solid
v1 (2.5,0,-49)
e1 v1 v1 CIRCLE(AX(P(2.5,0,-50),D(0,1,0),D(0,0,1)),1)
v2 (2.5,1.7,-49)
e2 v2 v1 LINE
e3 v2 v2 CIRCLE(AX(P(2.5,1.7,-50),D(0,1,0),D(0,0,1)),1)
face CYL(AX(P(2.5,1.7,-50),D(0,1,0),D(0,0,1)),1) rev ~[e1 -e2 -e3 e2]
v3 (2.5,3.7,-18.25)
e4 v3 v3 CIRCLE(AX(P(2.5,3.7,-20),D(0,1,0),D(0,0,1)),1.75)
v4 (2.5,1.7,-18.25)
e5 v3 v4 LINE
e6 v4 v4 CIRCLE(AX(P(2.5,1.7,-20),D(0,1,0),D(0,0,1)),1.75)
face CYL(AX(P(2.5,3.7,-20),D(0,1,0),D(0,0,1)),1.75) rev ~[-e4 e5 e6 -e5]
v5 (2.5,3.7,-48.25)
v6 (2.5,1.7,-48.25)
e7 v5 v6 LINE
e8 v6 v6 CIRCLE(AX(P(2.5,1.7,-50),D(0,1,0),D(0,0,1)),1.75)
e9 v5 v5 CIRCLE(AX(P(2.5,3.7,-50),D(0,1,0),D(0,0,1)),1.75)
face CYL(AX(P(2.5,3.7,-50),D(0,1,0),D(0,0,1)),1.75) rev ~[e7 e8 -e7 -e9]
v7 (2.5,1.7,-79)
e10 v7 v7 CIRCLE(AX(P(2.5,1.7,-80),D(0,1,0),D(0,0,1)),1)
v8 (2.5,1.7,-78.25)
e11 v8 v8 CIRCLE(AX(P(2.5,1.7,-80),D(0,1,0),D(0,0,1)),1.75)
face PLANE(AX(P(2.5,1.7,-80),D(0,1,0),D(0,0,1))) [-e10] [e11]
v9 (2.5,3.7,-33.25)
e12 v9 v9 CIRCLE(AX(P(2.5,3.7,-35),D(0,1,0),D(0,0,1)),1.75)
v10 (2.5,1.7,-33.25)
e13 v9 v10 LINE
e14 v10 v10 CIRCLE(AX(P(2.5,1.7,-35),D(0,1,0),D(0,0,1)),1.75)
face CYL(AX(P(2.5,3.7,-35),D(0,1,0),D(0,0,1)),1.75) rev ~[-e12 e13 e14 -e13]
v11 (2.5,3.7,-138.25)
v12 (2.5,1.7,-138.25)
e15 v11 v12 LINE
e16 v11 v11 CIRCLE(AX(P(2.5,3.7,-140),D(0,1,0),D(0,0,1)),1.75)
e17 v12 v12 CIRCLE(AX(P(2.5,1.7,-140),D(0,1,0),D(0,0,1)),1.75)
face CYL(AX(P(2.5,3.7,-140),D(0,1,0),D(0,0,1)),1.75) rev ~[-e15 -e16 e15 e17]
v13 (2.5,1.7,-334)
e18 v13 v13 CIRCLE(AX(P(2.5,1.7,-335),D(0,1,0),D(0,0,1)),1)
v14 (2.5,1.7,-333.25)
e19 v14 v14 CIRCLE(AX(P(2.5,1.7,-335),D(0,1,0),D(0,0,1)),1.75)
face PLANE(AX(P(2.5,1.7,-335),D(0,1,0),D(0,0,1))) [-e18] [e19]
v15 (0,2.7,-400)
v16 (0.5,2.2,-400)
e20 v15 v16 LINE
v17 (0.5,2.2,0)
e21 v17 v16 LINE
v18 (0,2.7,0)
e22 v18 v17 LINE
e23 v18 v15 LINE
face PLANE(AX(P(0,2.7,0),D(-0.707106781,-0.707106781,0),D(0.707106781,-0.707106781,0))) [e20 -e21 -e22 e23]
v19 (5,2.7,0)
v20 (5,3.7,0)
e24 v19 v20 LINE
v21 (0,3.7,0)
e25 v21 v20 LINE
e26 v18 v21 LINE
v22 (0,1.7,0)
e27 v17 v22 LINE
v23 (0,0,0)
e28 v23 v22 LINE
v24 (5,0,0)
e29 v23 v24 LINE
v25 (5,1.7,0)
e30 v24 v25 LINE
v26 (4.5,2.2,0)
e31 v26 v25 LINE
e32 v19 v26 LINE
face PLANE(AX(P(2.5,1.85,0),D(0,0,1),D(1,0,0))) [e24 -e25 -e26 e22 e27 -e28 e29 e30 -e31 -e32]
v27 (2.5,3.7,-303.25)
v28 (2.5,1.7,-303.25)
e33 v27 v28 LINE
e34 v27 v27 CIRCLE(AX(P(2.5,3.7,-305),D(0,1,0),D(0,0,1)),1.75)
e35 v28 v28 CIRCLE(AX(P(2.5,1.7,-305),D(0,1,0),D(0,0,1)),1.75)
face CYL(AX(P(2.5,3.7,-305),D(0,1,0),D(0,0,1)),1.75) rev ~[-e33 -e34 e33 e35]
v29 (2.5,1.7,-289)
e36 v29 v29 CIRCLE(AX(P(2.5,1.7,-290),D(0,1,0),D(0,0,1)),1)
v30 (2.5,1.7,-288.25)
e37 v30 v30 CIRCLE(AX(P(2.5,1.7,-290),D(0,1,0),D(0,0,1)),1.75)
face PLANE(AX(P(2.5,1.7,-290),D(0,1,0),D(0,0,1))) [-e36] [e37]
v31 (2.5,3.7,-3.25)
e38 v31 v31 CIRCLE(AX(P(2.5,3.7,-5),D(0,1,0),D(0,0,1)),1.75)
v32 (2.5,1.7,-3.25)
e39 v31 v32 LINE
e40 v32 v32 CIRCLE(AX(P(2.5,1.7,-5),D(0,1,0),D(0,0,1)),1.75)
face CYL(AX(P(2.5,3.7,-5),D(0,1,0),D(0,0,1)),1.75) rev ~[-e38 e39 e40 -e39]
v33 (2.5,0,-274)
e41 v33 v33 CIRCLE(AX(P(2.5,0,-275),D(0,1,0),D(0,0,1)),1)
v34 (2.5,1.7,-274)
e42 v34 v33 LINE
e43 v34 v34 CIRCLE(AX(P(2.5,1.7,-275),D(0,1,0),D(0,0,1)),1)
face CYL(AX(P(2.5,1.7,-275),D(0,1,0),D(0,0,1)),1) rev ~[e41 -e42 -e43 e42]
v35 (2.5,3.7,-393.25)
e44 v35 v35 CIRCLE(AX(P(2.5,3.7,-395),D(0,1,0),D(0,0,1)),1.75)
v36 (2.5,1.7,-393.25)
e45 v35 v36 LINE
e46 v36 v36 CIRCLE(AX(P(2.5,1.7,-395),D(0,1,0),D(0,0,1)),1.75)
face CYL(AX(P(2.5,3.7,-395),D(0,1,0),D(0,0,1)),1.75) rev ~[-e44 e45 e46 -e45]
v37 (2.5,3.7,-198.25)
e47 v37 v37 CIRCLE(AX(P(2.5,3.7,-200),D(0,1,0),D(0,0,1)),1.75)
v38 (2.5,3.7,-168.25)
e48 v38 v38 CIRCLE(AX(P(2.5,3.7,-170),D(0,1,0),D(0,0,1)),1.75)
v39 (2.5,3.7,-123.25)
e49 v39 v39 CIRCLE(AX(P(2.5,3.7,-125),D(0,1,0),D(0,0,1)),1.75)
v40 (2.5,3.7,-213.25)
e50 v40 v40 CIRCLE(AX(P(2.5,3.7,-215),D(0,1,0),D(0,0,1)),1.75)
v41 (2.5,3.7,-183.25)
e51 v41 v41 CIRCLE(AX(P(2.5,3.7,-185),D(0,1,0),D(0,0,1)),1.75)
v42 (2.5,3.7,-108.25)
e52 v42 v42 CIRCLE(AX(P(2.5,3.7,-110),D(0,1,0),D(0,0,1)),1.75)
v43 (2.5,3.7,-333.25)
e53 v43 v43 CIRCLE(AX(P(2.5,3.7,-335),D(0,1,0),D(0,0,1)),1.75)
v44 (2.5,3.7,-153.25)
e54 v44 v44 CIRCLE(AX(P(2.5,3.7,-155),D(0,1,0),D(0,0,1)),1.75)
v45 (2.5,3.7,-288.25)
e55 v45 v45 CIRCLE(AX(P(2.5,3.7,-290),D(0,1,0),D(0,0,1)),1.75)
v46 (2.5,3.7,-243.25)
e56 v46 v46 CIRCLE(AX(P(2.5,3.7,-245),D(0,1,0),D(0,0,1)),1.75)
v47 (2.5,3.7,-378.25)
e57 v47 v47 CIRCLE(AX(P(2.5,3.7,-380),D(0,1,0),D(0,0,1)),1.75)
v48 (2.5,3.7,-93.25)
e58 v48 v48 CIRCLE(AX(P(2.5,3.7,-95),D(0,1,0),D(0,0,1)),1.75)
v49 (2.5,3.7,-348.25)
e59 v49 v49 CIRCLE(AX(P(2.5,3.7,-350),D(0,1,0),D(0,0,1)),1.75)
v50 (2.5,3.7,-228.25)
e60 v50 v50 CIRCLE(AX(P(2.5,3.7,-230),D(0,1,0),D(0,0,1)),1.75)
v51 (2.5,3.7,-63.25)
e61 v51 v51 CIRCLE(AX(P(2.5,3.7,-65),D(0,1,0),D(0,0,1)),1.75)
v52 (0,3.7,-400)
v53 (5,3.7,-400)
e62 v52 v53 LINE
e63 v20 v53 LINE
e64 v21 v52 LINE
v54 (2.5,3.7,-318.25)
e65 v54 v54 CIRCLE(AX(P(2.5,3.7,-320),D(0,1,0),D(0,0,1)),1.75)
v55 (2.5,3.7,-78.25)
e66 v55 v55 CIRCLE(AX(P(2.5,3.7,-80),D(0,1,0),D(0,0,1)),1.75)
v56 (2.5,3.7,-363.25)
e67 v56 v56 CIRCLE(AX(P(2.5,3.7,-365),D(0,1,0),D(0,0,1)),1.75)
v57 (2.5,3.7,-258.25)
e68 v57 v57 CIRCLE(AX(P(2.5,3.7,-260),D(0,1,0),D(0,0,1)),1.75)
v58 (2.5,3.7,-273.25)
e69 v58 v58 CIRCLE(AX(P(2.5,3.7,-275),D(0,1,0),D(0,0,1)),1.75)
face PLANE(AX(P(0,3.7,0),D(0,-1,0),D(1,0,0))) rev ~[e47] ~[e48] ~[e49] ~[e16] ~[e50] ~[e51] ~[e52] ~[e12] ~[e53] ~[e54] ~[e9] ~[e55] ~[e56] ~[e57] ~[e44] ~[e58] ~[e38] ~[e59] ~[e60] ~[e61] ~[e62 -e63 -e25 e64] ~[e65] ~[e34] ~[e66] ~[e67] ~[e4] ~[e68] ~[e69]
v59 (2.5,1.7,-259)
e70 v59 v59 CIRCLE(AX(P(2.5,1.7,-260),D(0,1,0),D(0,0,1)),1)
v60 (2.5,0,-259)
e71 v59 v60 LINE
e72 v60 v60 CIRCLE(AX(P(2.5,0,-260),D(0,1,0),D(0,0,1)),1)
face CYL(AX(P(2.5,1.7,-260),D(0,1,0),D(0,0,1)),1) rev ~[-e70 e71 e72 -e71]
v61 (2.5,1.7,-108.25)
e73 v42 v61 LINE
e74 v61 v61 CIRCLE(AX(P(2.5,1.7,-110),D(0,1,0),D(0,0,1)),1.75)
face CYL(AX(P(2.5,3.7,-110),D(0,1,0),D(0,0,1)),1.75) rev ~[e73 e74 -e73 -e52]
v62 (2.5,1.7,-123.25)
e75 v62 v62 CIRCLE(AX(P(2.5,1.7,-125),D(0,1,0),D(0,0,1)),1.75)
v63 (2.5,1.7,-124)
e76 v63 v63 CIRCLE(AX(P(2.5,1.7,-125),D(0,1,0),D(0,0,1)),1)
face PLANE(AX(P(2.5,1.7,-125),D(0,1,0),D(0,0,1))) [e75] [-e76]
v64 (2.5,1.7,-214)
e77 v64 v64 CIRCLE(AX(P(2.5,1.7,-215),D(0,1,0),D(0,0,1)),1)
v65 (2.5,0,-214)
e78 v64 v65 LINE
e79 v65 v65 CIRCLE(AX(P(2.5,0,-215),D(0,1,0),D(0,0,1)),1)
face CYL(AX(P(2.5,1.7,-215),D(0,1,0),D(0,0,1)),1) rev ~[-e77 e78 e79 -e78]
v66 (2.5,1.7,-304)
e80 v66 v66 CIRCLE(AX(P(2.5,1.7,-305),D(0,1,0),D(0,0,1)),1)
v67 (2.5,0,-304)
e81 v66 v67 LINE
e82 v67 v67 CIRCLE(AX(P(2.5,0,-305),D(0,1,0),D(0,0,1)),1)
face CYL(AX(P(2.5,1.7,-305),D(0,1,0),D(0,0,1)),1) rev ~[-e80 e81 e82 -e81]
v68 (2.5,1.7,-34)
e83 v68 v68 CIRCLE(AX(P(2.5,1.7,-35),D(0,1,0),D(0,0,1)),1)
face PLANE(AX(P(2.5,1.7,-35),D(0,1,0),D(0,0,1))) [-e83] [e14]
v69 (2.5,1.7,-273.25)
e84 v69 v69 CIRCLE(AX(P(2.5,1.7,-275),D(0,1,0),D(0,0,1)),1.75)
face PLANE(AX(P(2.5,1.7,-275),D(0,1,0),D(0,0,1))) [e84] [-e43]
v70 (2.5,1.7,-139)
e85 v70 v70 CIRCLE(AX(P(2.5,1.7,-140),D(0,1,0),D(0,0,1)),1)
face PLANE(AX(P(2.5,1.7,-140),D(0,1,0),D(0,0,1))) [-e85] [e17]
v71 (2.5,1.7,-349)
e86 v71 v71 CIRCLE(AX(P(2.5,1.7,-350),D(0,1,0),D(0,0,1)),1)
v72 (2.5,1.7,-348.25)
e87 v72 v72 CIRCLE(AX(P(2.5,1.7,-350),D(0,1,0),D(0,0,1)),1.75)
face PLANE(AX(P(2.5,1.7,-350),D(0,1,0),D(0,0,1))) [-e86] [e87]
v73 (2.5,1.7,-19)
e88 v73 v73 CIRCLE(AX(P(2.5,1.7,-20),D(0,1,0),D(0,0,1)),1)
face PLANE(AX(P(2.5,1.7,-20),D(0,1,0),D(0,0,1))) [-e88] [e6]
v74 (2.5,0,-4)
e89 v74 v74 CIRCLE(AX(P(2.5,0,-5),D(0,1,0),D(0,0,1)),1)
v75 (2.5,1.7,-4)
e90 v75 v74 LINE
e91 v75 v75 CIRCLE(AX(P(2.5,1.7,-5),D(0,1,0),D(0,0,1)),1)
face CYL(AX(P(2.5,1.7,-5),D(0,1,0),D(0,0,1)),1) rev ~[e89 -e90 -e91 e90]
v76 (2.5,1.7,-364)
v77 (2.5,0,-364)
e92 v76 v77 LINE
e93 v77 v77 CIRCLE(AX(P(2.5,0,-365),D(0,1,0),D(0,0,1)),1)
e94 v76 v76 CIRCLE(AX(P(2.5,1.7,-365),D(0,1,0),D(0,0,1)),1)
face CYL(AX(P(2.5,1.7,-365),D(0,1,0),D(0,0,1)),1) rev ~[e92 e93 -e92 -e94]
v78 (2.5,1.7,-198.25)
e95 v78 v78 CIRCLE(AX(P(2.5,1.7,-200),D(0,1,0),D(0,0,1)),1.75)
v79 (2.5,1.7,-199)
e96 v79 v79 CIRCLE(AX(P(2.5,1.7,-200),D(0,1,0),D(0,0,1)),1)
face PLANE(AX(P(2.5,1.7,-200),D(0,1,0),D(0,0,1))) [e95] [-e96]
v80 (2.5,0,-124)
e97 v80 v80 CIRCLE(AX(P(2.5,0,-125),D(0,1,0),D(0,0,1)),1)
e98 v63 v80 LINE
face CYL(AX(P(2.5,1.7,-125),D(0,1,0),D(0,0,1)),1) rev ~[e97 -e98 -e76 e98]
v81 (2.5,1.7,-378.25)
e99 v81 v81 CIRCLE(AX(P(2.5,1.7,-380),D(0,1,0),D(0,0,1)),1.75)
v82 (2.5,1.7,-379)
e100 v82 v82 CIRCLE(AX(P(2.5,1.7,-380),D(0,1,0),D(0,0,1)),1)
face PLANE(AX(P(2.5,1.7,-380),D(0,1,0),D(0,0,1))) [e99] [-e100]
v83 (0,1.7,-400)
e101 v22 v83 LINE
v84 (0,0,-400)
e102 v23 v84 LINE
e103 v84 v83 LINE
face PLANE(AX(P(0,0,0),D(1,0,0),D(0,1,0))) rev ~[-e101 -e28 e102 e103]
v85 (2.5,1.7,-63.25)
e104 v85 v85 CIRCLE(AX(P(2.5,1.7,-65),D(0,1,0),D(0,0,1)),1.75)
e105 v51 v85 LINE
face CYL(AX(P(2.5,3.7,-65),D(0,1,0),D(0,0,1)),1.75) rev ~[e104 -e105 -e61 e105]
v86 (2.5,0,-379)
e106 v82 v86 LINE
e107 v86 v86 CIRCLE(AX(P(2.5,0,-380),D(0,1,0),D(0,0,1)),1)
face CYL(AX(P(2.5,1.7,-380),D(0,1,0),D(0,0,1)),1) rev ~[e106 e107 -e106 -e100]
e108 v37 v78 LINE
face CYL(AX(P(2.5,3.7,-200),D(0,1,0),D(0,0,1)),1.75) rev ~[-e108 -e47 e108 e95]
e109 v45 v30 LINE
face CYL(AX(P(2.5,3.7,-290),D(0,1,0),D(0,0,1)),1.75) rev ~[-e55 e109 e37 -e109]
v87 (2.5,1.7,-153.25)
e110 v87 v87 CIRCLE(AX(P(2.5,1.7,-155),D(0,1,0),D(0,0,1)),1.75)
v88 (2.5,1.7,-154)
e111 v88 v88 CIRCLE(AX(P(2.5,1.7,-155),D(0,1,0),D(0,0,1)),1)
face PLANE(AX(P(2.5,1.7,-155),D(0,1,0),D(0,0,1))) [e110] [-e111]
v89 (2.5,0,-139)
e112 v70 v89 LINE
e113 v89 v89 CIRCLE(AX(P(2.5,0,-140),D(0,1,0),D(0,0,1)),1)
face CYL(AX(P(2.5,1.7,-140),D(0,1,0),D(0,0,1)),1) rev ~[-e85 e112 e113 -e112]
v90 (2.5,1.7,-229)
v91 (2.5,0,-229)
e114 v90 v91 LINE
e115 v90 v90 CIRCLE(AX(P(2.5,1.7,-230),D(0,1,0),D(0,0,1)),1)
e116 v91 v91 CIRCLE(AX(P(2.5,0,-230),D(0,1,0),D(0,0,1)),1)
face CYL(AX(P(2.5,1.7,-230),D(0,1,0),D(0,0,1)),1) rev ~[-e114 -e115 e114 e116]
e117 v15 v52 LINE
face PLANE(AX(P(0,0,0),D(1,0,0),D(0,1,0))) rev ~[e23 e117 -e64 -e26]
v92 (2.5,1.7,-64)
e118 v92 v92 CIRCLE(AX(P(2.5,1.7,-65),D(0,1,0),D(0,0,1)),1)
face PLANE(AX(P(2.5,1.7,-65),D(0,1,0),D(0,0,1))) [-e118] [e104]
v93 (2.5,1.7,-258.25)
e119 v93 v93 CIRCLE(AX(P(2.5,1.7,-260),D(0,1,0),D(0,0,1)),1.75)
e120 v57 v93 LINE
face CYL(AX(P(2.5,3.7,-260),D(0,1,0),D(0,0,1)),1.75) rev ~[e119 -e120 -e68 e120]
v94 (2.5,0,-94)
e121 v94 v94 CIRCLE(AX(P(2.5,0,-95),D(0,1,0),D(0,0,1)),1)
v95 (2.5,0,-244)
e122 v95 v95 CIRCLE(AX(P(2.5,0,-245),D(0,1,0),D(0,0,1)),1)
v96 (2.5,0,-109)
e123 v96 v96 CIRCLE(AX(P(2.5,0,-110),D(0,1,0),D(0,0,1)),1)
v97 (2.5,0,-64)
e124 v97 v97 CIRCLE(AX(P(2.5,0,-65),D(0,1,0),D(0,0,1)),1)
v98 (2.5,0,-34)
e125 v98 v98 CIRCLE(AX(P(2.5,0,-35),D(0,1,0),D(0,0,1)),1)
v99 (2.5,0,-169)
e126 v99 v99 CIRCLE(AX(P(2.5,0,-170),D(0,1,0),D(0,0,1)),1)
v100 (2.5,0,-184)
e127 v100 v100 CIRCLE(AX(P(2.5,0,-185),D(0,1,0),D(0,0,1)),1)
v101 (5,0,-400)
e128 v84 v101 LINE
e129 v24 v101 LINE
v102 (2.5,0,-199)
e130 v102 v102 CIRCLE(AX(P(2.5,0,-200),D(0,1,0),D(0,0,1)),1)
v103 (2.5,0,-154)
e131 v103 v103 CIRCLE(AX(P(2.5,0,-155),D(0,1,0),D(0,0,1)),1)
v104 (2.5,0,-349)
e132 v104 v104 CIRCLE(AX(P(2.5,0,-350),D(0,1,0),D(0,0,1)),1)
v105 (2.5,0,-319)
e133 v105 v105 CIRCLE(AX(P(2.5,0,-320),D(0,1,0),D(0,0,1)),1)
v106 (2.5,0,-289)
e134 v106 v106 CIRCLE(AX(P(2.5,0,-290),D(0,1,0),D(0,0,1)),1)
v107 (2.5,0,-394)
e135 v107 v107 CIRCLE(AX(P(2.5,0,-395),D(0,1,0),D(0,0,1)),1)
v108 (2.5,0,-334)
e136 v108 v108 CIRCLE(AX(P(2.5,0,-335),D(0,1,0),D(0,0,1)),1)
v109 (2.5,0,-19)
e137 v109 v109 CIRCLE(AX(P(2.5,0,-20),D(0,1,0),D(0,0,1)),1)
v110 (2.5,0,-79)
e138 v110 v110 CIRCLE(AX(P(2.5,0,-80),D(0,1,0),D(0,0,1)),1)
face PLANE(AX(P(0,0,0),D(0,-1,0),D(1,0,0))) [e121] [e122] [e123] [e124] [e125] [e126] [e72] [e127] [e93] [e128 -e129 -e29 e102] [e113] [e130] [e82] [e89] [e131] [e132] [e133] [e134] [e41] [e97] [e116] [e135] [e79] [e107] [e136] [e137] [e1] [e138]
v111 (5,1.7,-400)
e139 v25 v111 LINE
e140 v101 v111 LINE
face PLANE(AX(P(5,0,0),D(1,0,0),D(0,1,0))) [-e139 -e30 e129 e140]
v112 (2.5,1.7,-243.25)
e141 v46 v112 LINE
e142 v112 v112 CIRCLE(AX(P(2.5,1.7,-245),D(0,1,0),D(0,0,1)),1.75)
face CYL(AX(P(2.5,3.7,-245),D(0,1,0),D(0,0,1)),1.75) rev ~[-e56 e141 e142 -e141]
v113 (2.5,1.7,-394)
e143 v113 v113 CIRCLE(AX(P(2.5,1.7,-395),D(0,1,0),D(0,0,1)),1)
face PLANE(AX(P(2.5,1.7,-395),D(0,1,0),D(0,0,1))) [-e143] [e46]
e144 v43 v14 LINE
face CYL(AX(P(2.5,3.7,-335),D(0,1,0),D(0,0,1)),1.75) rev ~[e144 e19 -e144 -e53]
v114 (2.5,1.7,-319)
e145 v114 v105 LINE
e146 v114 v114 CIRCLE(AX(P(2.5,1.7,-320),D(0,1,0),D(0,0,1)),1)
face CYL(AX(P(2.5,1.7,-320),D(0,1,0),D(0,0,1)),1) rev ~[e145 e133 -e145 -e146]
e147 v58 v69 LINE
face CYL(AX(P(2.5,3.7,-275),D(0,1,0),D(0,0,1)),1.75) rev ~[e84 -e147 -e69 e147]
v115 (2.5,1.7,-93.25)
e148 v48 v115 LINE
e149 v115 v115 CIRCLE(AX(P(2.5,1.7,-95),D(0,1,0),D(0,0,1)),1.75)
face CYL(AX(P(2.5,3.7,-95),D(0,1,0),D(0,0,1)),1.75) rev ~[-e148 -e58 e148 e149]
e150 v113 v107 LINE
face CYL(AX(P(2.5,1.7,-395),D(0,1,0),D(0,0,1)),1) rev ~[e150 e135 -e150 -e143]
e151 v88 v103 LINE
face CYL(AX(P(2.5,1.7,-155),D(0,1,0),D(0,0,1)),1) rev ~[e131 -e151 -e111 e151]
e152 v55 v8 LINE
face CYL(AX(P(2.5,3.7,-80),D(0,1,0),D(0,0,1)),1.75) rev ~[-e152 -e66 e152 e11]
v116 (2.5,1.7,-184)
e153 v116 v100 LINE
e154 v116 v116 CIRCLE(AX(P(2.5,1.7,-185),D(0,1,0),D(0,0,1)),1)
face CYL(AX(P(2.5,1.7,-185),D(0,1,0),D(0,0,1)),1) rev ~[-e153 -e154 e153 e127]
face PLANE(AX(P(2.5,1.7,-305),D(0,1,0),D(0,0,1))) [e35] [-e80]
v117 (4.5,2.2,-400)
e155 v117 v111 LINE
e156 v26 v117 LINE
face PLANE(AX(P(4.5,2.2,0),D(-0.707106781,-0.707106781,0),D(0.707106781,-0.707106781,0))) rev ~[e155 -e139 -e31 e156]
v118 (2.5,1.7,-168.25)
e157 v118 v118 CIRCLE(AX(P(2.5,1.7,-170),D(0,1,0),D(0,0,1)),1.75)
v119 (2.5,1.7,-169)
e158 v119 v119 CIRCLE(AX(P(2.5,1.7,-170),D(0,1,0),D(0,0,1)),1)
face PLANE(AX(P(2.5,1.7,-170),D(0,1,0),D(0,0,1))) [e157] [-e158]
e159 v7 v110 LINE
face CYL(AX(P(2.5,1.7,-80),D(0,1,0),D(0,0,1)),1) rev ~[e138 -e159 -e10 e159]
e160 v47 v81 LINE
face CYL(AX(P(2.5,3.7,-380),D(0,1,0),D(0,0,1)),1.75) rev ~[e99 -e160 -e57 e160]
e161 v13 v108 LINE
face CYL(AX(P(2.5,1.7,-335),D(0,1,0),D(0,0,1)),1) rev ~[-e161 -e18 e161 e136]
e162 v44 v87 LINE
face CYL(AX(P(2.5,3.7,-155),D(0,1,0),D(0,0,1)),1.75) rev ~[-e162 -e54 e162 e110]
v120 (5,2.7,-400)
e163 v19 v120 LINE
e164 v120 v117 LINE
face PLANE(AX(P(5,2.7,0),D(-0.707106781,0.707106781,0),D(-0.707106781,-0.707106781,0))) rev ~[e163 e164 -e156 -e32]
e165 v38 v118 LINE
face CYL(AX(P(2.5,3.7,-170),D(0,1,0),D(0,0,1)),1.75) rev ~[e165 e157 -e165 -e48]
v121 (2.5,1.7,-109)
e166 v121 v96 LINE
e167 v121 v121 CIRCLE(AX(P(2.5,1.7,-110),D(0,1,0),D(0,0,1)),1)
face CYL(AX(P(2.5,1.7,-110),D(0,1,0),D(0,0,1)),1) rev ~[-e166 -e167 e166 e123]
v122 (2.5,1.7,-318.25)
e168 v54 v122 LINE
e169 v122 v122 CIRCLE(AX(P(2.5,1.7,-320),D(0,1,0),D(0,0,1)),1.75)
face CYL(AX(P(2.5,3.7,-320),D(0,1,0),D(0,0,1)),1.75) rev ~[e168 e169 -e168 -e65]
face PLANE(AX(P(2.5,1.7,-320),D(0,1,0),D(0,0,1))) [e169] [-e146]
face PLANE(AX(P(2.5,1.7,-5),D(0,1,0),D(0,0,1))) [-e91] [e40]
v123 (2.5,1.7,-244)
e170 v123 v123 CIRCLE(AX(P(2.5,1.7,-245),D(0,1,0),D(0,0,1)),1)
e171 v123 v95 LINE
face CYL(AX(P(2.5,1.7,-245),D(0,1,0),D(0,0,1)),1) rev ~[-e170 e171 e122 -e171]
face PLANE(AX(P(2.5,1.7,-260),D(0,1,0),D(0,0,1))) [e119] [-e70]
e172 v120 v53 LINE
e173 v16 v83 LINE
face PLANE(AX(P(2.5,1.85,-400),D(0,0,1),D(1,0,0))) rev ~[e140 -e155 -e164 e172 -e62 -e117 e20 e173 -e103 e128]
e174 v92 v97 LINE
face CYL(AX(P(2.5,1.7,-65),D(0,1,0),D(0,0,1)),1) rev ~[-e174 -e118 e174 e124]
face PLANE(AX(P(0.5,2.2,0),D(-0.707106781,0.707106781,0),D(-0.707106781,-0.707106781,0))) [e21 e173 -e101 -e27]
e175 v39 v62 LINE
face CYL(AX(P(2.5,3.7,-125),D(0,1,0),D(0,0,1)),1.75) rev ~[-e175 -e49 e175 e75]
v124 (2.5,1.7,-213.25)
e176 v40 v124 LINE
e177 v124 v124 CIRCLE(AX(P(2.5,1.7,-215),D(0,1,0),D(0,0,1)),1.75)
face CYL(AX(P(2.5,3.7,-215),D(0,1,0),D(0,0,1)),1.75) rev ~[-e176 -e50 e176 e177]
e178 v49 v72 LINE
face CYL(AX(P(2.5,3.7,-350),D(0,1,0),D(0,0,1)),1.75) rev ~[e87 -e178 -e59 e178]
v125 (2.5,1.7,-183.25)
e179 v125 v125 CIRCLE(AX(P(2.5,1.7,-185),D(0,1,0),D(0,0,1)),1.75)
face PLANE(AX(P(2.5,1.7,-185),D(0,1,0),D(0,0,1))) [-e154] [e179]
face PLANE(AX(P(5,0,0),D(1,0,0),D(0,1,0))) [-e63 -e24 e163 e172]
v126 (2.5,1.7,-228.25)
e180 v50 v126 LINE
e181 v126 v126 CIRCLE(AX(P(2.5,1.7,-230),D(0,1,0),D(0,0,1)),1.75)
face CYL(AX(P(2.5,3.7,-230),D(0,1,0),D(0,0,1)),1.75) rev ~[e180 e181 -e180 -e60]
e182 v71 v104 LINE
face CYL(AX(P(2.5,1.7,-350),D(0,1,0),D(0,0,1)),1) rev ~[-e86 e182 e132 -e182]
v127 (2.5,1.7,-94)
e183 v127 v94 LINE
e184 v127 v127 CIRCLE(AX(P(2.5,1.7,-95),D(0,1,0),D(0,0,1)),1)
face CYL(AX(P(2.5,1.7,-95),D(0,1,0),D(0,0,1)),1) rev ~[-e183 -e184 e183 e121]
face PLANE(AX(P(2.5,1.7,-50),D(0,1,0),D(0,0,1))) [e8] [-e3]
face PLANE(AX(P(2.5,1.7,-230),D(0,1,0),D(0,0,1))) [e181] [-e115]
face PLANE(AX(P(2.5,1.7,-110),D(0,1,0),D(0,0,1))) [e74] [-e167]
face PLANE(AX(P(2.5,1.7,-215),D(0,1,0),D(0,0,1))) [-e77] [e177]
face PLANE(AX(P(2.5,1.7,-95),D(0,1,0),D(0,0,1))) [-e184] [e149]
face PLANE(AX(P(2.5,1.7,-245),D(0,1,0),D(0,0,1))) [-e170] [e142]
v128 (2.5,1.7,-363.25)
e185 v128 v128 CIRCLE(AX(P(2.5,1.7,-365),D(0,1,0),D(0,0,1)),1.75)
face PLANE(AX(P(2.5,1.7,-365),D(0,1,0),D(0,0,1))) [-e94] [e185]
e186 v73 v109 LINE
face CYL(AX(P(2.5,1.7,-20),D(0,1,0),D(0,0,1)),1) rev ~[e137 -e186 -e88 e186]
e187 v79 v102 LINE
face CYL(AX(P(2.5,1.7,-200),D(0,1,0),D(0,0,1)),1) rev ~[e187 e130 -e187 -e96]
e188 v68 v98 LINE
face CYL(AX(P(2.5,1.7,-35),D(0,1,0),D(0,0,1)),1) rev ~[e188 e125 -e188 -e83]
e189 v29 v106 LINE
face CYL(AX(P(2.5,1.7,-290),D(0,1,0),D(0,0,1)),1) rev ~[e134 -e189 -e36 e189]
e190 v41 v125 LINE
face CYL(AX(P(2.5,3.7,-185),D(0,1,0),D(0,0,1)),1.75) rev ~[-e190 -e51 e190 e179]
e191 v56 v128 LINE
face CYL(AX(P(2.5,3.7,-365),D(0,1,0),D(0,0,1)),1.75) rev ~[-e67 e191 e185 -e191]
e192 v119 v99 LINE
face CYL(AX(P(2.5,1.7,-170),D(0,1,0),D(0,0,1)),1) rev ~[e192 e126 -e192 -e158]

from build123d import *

# Parameters (mm, degrees)
SKETCH1_W           = 5
SKETCH1_H           = 3.7
BOSS_EXTRUDE1_DEPTH = 400
SKETCH2_R           = 1.75
CUT_EXTRUDE1_DEPTH  = 2
SKETCH3_R           = 1
CUT_EXTRUDE2_DEPTH  = 401.036248358
CUT_EXTRUDE3_DEPTH  = 401.048359577


with BuildPart() as part:
    # Sketch1 → Boss-Extrude1 (new body)
    with BuildSketch(Plane.XY):
        with Locations((2.5, 1.85)):
            Rectangle(SKETCH1_W, SKETCH1_H)
    extrude(amount=-BOSS_EXTRUDE1_DEPTH)

    # Sketch2 → Cut-Extrude1 (cut)
    with BuildSketch(Plane(origin=(0, 3.7, 0), x_dir=(1, 0, 0), z_dir=(0, 1, 0))):
        with Locations(Location((2.5, 5, 0), (0, 0, 270))):
            Circle(SKETCH2_R)
        with Locations(Location((2.5, 20, 0), (0, 0, 270))):
            Circle(SKETCH2_R)
        with Locations(Location((2.5, 35, 0), (0, 0, 270))):
            Circle(SKETCH2_R)
        with Locations(Location((2.5, 50, 0), (0, 0, 270))):
            Circle(SKETCH2_R)
        with Locations(Location((2.5, 65, 0), (0, 0, 270))):
            Circle(SKETCH2_R)
        with Locations(Location((2.5, 80, 0), (0, 0, 270))):
            Circle(SKETCH2_R)
        with Locations(Location((2.5, 95, 0), (0, 0, 270))):
            Circle(SKETCH2_R)
        with Locations(Location((2.5, 110, 0), (0, 0, 270))):
            Circle(SKETCH2_R)
        with Locations(Location((2.5, 125, 0), (0, 0, 270))):
            Circle(SKETCH2_R)
        with Locations(Location((2.5, 140, 0), (0, 0, 270))):
            Circle(SKETCH2_R)
        with Locations(Location((2.5, 155, 0), (0, 0, 270))):
            Circle(SKETCH2_R)
        with Locations(Location((2.5, 170, 0), (0, 0, 270))):
            Circle(SKETCH2_R)
        with Locations(Location((2.5, 185, 0), (0, 0, 270))):
            Circle(SKETCH2_R)
        with Locations(Location((2.5, 200, 0), (0, 0, 270))):
            Circle(SKETCH2_R)
        with Locations(Location((2.5, 215, 0), (0, 0, 270))):
            Circle(SKETCH2_R)
        with Locations(Location((2.5, 230, 0), (0, 0, 270))):
            Circle(SKETCH2_R)
        with Locations(Location((2.5, 245, 0), (0, 0, 270))):
            Circle(SKETCH2_R)
        with Locations(Location((2.5, 260, 0), (0, 0, 270))):
            Circle(SKETCH2_R)
        with Locations(Location((2.5, 275, 0), (0, 0, 270))):
            Circle(SKETCH2_R)
        with Locations(Location((2.5, 290, 0), (0, 0, 270))):
            Circle(SKETCH2_R)
        with Locations(Location((2.5, 305, 0), (0, 0, 270))):
            Circle(SKETCH2_R)
        with Locations(Location((2.5, 320, 0), (0, 0, 270))):
            Circle(SKETCH2_R)
        with Locations(Location((2.5, 335, 0), (0, 0, 270))):
            Circle(SKETCH2_R)
        with Locations(Location((2.5, 350, 0), (0, 0, 270))):
            Circle(SKETCH2_R)
        with Locations(Location((2.5, 365, 0), (0, 0, 270))):
            Circle(SKETCH2_R)
        with Locations(Location((2.5, 380, 0), (0, 0, 270))):
            Circle(SKETCH2_R)
        with Locations(Location((2.5, 395, 0), (0, 0, 270))):
            Circle(SKETCH2_R)
    extrude(amount=-CUT_EXTRUDE1_DEPTH, mode=Mode.SUBTRACT)

    # Sketch3 → Cut-Extrude2 (cut, through all)
    with BuildSketch(Plane(origin=(0, 1.7, 0), x_dir=(1, 0, 0), z_dir=(0, 1, 0))):
        with Locations(Location((2.5, 5, 0), (0, 0, 270))):
            Circle(SKETCH3_R)
        with Locations(Location((2.5, 20, 0), (0, 0, 270))):
            Circle(SKETCH3_R)
        with Locations(Location((2.5, 35, 0), (0, 0, 270))):
            Circle(SKETCH3_R)
        with Locations(Location((2.5, 50, 0), (0, 0, 270))):
            Circle(SKETCH3_R)
        with Locations(Location((2.5, 65, 0), (0, 0, 270))):
            Circle(SKETCH3_R)
        with Locations(Location((2.5, 80, 0), (0, 0, 270))):
            Circle(SKETCH3_R)
        with Locations(Location((2.5, 95, 0), (0, 0, 270))):
            Circle(SKETCH3_R)
        with Locations(Location((2.5, 110, 0), (0, 0, 270))):
            Circle(SKETCH3_R)
        with Locations(Location((2.5, 125, 0), (0, 0, 270))):
            Circle(SKETCH3_R)
        with Locations(Location((2.5, 140, 0), (0, 0, 270))):
            Circle(SKETCH3_R)
        with Locations(Location((2.5, 155, 0), (0, 0, 270))):
            Circle(SKETCH3_R)
        with Locations(Location((2.5, 170, 0), (0, 0, 270))):
            Circle(SKETCH3_R)
        with Locations(Location((2.5, 185, 0), (0, 0, 270))):
            Circle(SKETCH3_R)
        with Locations(Location((2.5, 200, 0), (0, 0, 270))):
            Circle(SKETCH3_R)
        with Locations(Location((2.5, 215, 0), (0, 0, 270))):
            Circle(SKETCH3_R)
        with Locations(Location((2.5, 230, 0), (0, 0, 270))):
            Circle(SKETCH3_R)
        with Locations(Location((2.5, 245, 0), (0, 0, 270))):
            Circle(SKETCH3_R)
        with Locations(Location((2.5, 260, 0), (0, 0, 270))):
            Circle(SKETCH3_R)
        with Locations(Location((2.5, 275, 0), (0, 0, 270))):
            Circle(SKETCH3_R)
        with Locations(Location((2.5, 290, 0), (0, 0, 270))):
            Circle(SKETCH3_R)
        with Locations(Location((2.5, 305, 0), (0, 0, 270))):
            Circle(SKETCH3_R)
        with Locations(Location((2.5, 320, 0), (0, 0, 270))):
            Circle(SKETCH3_R)
        with Locations(Location((2.5, 335, 0), (0, 0, 270))):
            Circle(SKETCH3_R)
        with Locations(Location((2.5, 350, 0), (0, 0, 270))):
            Circle(SKETCH3_R)
        with Locations(Location((2.5, 365, 0), (0, 0, 270))):
            Circle(SKETCH3_R)
        with Locations(Location((2.5, 380, 0), (0, 0, 270))):
            Circle(SKETCH3_R)
        with Locations(Location((2.5, 395, 0), (0, 0, 270))):
            Circle(SKETCH3_R)
    extrude(amount=-CUT_EXTRUDE2_DEPTH, mode=Mode.SUBTRACT)

    # Sketch4 → Cut-Extrude3 (cut, through all)
    with BuildSketch(Plane.XY):
        Polygon((0, 2.7), (0.5, 2.2), (0, 1.7), align=None)
        Polygon((5, 2.7), (4.5, 2.2), (5, 1.7), align=None)
    extrude(amount=-CUT_EXTRUDE3_DEPTH, mode=Mode.SUBTRACT)


solid = part.part
